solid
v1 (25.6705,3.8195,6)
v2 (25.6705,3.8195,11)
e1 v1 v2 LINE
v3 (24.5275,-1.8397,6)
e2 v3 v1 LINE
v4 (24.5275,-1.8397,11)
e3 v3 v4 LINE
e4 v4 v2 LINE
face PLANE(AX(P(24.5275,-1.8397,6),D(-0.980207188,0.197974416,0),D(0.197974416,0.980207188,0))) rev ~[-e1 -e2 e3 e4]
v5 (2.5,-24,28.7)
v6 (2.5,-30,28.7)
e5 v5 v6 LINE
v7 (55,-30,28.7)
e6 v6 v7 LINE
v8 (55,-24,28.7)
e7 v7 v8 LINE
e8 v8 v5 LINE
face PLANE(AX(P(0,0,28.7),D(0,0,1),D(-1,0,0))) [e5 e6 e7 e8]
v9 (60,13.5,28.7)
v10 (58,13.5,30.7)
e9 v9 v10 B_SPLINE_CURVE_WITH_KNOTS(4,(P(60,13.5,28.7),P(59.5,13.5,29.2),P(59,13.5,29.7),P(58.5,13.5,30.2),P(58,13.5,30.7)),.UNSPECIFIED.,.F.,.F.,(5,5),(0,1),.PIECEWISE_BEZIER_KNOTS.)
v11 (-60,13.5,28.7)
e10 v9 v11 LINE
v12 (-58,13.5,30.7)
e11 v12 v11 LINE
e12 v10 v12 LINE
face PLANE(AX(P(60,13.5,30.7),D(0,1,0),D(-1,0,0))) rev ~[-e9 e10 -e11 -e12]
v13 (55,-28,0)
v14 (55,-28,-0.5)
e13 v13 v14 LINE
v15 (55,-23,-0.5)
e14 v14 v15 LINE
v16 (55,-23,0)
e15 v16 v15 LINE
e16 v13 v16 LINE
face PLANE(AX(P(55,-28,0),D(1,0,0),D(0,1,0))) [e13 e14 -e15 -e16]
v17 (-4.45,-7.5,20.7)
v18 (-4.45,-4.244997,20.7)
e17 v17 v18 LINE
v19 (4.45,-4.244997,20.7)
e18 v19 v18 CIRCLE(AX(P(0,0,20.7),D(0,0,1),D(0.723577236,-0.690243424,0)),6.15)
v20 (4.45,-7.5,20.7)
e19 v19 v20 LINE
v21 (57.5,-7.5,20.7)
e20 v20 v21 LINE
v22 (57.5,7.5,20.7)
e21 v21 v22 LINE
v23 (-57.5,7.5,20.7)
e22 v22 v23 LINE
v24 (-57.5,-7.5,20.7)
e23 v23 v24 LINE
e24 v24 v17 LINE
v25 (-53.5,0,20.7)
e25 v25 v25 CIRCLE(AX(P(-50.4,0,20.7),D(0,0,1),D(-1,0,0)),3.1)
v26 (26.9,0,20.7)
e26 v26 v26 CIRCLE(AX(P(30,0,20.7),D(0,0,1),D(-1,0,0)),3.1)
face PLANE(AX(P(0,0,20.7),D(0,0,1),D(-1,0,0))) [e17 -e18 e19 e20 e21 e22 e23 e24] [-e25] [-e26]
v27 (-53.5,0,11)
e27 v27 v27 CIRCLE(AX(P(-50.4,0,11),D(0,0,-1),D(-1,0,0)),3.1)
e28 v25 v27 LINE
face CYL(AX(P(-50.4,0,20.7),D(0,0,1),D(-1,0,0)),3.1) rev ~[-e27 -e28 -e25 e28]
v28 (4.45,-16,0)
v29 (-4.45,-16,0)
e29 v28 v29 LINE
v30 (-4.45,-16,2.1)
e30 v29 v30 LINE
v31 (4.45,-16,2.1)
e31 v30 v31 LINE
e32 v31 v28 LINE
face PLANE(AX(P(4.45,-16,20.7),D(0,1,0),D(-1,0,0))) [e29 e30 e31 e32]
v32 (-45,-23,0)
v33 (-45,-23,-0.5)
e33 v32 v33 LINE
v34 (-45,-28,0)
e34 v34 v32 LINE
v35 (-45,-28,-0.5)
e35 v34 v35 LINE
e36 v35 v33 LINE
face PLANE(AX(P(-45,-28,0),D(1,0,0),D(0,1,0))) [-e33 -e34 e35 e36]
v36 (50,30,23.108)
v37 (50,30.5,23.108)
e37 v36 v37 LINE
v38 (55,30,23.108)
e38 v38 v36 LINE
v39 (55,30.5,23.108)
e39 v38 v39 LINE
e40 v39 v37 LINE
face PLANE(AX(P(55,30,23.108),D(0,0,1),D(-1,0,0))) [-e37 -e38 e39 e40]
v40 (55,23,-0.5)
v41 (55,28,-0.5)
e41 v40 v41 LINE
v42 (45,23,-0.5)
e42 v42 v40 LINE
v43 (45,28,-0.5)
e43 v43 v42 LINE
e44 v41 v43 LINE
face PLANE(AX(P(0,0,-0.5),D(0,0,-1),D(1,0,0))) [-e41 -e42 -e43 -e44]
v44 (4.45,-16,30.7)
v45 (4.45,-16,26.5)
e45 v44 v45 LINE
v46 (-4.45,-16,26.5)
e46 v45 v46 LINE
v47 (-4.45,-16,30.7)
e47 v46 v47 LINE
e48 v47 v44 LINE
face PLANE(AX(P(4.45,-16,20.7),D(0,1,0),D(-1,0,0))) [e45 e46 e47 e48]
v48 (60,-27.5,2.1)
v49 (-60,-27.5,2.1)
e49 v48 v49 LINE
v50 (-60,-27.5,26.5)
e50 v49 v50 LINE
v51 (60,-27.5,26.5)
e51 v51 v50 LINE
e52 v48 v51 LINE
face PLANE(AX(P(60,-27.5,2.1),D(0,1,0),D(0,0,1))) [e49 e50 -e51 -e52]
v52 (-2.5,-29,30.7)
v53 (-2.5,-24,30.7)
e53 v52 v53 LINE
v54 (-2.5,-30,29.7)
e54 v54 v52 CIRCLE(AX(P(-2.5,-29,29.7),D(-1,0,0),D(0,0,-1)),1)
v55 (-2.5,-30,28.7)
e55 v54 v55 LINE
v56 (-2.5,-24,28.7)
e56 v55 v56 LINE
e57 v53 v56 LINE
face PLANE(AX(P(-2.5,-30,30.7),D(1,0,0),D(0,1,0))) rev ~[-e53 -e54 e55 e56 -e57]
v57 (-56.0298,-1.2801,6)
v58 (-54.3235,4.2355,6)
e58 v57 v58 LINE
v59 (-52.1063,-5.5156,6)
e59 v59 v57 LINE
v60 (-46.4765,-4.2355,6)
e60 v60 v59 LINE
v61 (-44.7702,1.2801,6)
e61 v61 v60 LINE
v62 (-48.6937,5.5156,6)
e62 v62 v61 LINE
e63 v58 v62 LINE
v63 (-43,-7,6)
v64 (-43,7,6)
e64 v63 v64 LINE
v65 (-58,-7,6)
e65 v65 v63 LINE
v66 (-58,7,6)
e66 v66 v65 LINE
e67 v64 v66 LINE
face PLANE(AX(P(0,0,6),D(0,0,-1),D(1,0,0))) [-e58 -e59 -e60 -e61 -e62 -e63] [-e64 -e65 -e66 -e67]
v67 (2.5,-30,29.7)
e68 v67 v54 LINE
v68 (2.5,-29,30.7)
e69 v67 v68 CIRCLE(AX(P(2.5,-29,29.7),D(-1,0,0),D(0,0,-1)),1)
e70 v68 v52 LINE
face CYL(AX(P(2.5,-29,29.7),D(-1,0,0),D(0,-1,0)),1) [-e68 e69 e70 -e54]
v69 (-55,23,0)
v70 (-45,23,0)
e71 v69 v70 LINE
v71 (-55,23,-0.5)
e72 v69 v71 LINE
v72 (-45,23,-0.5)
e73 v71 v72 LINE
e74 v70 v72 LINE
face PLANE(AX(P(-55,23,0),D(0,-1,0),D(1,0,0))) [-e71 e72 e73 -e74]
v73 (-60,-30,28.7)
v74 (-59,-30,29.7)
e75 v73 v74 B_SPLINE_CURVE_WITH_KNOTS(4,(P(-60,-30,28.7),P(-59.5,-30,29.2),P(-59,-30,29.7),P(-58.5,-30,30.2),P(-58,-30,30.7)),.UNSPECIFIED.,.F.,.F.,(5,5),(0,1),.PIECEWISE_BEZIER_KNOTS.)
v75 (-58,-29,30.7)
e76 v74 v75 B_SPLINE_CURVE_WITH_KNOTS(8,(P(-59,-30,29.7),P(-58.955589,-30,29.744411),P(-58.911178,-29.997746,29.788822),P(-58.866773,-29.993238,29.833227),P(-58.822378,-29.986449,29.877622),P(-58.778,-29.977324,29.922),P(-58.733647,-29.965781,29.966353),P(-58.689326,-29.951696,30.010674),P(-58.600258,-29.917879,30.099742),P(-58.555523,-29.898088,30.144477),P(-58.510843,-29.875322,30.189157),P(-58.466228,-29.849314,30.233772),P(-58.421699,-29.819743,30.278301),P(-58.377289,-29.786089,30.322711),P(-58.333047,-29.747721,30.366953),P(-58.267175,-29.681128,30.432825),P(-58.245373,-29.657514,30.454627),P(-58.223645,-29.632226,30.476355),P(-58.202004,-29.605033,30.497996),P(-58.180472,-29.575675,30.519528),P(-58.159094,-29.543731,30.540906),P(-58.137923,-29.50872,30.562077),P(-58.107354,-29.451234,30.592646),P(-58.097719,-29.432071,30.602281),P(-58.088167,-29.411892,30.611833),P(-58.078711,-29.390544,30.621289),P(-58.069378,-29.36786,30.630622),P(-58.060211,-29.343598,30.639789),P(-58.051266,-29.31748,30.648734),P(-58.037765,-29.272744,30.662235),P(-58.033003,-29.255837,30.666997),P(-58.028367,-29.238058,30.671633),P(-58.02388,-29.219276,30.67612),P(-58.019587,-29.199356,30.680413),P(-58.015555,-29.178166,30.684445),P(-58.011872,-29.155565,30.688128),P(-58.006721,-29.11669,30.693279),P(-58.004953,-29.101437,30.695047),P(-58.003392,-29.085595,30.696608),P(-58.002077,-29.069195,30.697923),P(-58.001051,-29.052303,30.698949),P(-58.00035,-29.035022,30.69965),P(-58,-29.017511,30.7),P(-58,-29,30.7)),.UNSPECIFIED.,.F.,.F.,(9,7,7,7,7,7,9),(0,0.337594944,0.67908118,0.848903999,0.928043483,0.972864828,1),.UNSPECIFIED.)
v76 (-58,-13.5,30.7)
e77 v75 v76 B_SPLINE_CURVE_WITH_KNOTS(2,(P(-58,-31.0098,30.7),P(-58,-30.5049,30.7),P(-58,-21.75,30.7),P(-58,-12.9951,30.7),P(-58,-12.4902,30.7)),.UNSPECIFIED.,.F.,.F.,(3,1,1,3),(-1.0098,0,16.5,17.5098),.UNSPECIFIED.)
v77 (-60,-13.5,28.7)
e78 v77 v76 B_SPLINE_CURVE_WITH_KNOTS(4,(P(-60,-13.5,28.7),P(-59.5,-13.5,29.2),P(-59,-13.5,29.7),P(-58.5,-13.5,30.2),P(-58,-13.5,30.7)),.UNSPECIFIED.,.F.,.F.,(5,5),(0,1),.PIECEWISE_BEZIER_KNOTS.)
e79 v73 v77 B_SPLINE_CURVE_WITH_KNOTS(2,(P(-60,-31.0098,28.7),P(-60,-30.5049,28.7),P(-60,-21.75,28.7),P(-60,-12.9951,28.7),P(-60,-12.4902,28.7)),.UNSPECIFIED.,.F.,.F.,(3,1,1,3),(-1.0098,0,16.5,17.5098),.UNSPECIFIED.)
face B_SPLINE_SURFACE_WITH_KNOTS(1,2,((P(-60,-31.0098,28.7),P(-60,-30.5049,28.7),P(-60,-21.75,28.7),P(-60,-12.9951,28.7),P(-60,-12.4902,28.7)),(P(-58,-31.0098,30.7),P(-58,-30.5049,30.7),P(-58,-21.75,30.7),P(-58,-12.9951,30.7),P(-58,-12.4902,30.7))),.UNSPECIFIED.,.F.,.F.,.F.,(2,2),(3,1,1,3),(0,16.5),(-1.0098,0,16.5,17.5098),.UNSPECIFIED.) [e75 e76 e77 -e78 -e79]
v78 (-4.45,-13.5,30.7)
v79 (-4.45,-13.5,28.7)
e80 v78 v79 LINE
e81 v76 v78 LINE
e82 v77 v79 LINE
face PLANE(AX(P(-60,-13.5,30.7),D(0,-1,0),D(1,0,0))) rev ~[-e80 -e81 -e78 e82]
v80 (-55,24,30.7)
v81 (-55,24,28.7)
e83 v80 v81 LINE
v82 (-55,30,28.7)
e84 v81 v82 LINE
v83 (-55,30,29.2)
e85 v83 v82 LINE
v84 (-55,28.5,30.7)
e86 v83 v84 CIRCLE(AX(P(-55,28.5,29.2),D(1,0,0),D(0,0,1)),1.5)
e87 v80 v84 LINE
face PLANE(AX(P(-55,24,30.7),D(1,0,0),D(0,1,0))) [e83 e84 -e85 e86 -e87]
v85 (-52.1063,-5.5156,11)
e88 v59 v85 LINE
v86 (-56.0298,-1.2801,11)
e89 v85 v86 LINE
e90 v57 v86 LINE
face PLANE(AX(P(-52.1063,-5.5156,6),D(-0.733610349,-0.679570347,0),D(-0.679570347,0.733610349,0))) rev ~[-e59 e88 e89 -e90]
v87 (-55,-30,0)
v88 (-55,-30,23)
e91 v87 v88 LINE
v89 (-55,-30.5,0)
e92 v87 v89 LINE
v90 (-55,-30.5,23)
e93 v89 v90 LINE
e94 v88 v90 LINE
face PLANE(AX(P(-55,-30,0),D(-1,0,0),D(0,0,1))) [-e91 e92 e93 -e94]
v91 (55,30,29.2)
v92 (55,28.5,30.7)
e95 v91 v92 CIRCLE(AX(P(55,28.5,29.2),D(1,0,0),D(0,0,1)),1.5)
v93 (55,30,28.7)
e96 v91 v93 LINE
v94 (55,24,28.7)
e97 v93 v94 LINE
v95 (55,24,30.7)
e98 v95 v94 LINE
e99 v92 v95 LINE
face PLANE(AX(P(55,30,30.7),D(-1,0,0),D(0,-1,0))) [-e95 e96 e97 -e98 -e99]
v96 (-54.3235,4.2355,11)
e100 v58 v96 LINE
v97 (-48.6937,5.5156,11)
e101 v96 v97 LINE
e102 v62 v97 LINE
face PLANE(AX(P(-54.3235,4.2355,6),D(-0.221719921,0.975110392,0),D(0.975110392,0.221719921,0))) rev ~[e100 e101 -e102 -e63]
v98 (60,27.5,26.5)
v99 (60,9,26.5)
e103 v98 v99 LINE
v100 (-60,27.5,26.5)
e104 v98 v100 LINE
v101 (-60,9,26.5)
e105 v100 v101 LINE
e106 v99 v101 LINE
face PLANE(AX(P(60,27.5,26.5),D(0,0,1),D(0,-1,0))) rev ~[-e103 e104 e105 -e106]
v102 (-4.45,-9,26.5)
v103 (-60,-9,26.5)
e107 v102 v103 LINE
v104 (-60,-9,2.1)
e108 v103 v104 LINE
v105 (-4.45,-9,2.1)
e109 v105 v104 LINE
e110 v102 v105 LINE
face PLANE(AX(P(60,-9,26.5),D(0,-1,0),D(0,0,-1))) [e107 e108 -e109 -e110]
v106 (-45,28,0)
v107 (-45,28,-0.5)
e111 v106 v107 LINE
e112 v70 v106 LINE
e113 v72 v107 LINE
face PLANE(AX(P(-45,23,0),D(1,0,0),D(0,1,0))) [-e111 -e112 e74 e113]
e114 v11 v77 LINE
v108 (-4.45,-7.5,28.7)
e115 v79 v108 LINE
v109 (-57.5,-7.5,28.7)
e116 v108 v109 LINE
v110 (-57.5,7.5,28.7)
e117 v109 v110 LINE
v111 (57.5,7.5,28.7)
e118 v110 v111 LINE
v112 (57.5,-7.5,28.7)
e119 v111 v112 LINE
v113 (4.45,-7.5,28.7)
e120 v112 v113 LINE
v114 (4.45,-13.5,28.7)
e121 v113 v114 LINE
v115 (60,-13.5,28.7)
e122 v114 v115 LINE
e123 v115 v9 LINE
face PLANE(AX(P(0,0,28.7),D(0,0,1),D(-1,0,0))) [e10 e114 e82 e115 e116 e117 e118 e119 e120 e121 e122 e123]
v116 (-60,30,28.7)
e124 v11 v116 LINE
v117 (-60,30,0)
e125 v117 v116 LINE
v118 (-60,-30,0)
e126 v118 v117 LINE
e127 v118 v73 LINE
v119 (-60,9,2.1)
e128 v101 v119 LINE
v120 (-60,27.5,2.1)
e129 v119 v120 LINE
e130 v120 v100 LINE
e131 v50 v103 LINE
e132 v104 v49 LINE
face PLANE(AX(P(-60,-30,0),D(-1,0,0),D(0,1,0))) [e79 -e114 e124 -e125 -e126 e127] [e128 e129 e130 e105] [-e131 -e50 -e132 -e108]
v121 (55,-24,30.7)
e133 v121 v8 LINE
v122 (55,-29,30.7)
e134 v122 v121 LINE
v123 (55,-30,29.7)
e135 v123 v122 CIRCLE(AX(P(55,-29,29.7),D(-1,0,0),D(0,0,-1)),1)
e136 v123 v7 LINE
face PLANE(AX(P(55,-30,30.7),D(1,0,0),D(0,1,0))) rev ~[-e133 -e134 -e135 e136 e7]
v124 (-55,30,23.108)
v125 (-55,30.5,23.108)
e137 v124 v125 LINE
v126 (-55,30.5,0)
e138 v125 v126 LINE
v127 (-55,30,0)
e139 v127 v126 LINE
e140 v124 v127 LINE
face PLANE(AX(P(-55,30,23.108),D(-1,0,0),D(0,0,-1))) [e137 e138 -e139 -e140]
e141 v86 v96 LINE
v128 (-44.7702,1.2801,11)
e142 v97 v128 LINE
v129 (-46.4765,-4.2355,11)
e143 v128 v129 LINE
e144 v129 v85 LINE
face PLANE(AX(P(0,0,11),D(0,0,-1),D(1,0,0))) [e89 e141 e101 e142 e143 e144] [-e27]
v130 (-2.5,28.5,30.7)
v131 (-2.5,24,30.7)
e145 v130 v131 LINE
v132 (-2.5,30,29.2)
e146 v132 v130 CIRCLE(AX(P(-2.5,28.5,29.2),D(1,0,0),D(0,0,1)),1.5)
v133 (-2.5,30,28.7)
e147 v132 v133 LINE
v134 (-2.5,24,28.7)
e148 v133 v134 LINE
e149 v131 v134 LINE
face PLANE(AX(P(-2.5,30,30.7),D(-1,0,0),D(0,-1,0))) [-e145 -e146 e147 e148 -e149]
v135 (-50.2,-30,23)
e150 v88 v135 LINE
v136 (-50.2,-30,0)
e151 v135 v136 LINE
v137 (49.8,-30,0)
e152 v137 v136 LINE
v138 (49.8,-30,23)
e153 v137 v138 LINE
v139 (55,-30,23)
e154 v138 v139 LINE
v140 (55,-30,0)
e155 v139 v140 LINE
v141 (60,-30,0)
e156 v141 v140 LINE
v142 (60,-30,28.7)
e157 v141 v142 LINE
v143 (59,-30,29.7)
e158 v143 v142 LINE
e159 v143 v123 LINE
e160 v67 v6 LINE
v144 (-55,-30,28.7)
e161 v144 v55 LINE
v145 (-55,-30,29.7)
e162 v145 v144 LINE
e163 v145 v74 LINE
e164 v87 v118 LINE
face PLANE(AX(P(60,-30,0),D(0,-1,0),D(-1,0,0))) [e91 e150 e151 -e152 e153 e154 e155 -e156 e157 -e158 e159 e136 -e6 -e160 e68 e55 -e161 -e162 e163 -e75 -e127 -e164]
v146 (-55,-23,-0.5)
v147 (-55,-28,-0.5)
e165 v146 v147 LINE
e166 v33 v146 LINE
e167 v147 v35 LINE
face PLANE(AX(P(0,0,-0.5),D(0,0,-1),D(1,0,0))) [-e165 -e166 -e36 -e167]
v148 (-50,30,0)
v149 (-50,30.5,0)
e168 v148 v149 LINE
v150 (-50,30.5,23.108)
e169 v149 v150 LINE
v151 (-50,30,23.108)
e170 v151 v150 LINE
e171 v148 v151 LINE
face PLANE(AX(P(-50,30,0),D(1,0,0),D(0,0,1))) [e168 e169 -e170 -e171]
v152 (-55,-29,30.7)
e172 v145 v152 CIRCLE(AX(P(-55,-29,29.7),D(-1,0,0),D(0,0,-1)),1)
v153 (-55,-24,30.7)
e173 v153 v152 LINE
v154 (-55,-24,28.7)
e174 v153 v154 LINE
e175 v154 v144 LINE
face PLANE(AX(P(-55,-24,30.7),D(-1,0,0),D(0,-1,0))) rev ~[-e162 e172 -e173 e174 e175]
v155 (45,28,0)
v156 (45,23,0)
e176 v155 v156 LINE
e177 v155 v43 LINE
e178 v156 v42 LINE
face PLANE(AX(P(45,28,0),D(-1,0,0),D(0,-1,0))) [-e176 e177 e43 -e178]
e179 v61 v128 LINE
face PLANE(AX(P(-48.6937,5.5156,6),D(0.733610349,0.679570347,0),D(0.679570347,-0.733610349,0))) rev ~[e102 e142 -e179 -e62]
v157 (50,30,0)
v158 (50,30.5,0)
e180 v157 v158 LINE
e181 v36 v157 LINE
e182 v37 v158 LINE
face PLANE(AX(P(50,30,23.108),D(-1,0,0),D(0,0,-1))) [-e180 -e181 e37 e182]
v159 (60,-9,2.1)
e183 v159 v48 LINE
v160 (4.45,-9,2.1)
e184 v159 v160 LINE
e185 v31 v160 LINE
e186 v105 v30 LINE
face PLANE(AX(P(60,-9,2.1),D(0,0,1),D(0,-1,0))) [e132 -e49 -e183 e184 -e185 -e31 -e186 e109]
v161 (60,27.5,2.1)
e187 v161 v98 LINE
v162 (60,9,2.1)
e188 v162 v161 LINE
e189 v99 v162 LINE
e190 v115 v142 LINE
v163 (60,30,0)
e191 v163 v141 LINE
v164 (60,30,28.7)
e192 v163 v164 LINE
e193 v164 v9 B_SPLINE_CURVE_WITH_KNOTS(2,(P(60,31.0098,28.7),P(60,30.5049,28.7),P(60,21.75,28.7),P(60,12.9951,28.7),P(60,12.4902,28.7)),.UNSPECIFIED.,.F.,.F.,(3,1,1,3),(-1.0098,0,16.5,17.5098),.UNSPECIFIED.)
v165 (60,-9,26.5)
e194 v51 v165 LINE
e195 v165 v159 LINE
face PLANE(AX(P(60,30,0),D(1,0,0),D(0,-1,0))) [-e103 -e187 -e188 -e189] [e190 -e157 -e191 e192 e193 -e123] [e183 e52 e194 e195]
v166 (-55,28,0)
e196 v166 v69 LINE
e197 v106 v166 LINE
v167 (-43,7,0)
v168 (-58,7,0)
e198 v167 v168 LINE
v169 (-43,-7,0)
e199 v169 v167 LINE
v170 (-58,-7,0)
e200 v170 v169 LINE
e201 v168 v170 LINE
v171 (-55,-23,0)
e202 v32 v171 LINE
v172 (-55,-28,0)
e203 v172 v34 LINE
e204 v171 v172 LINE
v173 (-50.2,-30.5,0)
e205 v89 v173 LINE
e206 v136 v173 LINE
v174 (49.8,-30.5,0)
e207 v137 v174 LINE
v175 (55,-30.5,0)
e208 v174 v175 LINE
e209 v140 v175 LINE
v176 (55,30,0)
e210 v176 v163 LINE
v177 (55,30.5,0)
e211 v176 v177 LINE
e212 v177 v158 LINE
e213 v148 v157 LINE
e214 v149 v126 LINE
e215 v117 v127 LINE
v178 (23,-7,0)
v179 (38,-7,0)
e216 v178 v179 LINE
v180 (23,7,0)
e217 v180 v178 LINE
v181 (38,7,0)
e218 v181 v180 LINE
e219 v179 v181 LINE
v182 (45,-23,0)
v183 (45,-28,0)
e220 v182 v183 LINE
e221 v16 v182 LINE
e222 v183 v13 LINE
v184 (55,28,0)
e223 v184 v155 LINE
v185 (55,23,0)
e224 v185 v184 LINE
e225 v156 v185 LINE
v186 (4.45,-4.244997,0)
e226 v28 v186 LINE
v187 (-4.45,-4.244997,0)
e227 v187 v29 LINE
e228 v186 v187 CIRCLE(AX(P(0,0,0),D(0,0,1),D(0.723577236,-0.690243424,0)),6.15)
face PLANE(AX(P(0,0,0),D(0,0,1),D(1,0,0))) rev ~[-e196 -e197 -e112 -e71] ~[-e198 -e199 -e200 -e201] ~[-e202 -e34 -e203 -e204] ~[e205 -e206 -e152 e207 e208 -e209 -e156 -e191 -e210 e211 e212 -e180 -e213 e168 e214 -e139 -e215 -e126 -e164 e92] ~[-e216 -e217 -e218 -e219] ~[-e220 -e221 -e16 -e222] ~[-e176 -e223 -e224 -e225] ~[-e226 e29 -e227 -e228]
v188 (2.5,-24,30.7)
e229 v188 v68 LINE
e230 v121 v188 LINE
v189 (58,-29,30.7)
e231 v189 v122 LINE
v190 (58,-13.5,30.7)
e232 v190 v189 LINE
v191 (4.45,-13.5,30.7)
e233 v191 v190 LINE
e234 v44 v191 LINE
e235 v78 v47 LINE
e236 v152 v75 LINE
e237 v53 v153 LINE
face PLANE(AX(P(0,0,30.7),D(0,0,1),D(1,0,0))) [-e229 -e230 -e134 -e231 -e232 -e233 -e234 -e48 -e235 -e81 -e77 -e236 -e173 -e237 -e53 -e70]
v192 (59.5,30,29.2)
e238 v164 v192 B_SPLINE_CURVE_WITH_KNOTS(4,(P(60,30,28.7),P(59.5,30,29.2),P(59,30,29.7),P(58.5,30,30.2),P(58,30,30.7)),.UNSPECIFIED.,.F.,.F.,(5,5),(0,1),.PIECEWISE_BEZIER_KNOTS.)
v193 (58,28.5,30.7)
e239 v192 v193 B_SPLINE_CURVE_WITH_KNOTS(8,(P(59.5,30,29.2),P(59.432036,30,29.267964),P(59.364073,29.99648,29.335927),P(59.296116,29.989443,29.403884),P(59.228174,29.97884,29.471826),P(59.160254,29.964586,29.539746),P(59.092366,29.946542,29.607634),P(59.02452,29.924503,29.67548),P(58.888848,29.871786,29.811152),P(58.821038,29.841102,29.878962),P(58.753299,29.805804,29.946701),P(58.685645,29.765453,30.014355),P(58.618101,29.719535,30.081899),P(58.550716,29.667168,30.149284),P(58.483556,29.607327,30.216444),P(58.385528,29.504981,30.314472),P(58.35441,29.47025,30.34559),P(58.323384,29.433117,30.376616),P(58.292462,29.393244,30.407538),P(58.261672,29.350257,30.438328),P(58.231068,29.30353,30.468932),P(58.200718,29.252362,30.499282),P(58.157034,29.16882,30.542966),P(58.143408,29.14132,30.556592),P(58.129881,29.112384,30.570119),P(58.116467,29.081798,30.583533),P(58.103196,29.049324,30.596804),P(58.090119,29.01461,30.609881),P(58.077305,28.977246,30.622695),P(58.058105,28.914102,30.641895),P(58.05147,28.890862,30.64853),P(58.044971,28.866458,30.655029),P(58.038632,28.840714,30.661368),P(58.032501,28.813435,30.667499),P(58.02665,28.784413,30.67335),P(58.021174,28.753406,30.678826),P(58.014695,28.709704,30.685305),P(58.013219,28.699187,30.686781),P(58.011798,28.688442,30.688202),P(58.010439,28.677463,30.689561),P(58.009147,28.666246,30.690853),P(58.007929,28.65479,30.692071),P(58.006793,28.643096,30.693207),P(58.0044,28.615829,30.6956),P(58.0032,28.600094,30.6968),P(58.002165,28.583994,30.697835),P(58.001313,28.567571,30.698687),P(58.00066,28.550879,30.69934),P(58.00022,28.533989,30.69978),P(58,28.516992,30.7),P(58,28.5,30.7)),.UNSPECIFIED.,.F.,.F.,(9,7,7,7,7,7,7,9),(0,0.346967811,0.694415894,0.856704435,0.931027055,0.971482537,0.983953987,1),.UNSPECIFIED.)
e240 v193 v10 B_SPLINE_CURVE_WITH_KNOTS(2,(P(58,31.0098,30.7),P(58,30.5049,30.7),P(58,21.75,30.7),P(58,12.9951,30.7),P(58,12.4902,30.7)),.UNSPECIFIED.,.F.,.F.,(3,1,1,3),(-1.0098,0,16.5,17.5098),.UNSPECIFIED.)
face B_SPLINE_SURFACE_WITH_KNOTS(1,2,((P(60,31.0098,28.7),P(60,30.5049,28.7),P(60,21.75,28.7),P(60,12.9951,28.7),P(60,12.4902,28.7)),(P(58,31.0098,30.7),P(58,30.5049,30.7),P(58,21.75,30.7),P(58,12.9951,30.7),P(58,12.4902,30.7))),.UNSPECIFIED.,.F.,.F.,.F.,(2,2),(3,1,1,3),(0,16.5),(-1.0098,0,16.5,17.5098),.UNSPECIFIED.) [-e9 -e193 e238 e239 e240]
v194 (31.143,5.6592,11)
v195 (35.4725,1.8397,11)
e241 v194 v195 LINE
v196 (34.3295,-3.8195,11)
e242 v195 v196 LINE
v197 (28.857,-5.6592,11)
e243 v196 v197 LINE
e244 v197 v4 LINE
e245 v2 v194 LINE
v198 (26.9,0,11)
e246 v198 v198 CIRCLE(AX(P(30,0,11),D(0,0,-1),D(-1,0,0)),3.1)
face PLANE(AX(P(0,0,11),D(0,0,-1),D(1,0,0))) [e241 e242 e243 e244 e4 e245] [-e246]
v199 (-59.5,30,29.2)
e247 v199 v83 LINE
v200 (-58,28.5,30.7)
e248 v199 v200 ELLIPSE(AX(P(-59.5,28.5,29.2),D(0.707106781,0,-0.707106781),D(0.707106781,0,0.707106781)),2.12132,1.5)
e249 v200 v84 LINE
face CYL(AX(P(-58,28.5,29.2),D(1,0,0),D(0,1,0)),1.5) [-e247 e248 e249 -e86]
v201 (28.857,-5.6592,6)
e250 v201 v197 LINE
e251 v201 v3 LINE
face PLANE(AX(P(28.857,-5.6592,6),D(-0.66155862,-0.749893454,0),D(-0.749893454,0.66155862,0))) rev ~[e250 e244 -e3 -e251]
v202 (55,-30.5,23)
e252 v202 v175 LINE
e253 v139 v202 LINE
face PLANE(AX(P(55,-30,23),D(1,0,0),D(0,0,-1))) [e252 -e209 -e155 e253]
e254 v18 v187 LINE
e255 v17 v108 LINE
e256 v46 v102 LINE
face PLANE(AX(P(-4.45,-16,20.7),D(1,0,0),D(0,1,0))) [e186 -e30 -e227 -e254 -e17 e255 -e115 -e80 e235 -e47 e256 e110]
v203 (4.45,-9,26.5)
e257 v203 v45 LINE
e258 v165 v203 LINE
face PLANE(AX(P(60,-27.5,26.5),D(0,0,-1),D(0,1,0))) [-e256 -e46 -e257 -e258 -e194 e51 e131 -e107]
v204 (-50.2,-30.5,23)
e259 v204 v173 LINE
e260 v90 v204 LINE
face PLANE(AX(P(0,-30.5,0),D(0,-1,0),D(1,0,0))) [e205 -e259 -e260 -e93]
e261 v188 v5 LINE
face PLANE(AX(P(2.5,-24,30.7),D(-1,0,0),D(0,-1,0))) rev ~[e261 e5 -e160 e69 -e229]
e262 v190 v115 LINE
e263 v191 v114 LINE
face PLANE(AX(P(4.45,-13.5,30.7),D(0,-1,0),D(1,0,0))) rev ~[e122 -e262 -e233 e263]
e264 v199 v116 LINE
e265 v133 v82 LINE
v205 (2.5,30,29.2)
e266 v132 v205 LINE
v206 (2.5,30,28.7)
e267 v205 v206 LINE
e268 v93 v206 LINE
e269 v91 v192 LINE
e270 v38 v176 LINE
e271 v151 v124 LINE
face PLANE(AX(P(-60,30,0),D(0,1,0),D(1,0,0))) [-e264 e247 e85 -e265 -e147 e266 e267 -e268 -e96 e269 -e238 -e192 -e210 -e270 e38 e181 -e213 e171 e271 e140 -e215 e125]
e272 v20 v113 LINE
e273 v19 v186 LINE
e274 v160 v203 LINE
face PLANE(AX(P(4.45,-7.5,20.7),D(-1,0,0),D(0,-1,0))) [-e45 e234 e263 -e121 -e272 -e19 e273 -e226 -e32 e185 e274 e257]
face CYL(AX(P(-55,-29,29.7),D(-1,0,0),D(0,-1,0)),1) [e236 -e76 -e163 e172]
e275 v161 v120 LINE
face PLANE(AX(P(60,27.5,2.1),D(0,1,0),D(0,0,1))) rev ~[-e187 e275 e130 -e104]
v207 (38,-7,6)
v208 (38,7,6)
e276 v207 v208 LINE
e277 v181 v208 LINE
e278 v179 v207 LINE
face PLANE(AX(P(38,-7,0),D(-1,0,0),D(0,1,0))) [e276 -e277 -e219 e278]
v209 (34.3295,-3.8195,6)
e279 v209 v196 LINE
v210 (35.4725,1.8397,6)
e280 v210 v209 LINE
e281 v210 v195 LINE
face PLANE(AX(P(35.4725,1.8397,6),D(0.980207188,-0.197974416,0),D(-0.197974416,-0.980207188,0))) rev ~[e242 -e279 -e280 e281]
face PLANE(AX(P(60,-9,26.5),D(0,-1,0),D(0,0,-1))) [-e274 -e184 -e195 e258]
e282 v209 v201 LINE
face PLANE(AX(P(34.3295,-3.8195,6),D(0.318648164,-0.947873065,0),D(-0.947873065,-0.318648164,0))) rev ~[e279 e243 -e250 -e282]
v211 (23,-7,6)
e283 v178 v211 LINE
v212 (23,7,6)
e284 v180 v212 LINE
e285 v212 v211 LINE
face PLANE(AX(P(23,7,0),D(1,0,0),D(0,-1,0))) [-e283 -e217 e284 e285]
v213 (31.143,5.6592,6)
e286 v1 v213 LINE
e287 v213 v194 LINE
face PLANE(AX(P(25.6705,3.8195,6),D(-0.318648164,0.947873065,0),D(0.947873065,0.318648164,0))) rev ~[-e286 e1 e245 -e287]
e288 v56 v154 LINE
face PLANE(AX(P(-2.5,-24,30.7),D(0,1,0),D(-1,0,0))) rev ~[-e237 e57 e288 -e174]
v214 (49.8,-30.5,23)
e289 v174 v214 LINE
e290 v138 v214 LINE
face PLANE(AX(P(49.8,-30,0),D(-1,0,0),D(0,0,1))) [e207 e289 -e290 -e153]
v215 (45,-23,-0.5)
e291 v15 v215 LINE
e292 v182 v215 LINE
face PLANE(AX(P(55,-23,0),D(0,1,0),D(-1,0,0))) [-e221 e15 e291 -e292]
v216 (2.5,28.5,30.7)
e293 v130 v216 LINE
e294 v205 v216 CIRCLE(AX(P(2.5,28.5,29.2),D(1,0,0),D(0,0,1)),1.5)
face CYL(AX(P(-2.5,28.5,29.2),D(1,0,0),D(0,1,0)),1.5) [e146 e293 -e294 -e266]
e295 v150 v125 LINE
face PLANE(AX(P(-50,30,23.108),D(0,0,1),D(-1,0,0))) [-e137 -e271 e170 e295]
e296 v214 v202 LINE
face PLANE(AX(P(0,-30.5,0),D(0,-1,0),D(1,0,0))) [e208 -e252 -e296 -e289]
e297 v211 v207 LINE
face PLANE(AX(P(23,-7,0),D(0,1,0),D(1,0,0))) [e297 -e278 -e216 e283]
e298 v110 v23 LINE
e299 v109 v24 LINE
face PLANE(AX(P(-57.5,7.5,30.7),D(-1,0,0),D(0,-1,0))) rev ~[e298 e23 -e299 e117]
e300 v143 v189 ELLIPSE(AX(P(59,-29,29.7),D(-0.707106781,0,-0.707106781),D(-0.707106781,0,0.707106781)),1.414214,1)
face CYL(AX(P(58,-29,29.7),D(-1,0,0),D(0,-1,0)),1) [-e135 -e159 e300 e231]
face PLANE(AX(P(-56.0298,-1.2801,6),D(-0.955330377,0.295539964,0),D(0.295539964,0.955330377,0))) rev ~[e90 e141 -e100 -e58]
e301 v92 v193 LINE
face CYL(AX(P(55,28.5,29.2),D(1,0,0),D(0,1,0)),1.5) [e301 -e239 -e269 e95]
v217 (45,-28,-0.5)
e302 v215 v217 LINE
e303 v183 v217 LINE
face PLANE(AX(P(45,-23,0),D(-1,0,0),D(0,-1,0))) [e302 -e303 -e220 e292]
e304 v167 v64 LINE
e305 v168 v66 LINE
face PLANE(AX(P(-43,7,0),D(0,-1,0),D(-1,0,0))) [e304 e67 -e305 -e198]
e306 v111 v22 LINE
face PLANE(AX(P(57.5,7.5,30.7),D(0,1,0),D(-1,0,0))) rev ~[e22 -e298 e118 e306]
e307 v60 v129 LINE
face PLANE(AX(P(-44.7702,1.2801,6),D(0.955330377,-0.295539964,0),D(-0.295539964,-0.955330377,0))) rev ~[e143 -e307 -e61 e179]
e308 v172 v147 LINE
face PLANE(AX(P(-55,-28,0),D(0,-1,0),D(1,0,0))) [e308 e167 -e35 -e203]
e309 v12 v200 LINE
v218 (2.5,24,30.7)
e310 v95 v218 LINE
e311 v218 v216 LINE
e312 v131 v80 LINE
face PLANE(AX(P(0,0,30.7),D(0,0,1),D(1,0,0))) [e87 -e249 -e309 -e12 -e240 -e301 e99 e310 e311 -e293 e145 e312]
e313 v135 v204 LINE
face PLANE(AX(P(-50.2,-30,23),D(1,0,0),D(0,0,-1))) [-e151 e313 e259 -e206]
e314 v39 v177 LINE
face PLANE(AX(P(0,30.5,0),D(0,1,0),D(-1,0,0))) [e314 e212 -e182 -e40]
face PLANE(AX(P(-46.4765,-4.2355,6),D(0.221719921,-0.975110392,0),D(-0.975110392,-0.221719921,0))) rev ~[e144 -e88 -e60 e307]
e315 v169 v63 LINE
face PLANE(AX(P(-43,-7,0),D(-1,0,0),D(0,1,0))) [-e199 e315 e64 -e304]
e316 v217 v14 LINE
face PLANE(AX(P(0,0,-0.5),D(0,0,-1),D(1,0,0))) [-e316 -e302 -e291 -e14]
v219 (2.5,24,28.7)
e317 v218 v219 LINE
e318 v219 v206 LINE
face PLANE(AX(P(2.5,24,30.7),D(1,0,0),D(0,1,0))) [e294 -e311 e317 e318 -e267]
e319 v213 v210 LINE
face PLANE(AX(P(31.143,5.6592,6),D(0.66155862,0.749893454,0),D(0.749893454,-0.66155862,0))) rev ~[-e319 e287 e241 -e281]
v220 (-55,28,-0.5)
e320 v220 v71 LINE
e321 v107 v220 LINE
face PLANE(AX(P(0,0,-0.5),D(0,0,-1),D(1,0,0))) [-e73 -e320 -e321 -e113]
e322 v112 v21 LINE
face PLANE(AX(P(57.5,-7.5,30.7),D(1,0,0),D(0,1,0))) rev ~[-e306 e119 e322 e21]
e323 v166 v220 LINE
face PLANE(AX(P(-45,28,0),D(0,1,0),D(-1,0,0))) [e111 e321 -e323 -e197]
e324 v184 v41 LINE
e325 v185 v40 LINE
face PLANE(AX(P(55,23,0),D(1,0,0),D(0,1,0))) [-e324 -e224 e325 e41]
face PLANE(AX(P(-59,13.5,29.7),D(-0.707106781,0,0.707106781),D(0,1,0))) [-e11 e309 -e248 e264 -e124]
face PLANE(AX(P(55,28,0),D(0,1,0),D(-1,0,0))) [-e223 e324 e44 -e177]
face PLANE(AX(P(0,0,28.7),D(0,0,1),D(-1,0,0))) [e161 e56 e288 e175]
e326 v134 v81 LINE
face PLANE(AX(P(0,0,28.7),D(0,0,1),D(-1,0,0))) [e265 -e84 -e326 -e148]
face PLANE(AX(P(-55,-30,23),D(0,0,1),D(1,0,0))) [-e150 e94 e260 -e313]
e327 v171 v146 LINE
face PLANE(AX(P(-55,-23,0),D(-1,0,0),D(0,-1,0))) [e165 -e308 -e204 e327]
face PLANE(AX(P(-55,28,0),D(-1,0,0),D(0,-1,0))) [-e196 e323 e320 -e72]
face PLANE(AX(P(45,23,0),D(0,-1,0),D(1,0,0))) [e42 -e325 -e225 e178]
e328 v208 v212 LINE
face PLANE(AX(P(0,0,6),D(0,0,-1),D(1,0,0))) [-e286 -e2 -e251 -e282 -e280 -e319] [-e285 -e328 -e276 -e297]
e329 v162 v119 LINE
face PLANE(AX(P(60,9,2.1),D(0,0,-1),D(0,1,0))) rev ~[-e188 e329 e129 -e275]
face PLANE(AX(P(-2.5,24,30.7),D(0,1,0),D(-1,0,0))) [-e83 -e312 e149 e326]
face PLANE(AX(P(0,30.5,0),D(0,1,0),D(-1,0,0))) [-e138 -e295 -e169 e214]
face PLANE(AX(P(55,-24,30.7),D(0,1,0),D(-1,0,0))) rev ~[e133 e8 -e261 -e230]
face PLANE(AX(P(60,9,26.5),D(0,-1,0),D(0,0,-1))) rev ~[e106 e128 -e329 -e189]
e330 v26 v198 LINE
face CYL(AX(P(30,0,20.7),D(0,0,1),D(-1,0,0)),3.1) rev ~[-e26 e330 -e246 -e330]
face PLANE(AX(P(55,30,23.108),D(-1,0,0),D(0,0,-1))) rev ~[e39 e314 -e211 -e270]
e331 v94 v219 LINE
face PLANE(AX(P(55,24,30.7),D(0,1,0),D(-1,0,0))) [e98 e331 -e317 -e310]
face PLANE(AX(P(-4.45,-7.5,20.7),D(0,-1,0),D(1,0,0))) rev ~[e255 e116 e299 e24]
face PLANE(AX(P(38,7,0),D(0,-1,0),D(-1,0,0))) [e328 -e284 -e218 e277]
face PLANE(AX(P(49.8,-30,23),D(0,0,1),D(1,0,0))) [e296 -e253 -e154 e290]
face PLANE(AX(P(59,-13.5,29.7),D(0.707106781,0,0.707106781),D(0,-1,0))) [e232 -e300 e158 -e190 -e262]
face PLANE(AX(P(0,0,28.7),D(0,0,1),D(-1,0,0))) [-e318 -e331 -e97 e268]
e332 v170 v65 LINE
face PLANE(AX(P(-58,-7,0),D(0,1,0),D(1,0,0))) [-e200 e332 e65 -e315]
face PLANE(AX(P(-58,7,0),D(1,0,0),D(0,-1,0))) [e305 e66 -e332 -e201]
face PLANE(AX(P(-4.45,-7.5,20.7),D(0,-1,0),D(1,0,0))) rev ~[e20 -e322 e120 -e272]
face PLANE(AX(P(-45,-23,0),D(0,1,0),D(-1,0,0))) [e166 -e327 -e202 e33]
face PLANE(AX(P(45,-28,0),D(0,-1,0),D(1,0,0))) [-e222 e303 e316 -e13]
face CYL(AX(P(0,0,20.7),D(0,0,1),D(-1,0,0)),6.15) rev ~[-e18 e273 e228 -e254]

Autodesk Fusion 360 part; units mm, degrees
sketch "Esquisse3" plane through (0, 0, 0) normal (0, 0, 1) x (1, 0, 0)
  line L0 (60, -30) -> (-60, -30)
  line L1 (-60, -30) -> (-60, 30)
  line L2 (-60, 30) -> (60, 30)
  line L3 (60, 30) -> (60, -30)
  line L4 (60, -30) -> (-60, 30) construction
  line L5 (-60, -30) -> (60, 30) construction
  dimension "d3" = 120
  dimension "d4" = 60
extrude "Extrusion1" add sketch "Esquisse3" along normal blind 30.7
sketch "Esquisse4" plane through (0, 0, 30.7) normal (0, 0, 1) x (-1, 0, 0)
  line L0 (-60, -30) -> (60, -30)
  line L1 (60, -30) -> (60, 30)
  line L2 (60, 30) -> (-60, 30)
  line L3 (-60, 30) -> (-60, -30)
  line L4 (57.5, 7.5) -> (-57.5, 7.5)
  line L5 (-57.5, 7.5) -> (-57.5, -7.5)
  line L6 (-57.5, -7.5) -> (57.5, -7.5)
  line L7 (57.5, -7.5) -> (57.5, 7.5)
  line L8 (57.5, 7.5) -> (-57.5, -7.5) construction
  line L9 (-57.5, 7.5) -> (57.5, -7.5) construction
  dimension "d7" = 115
  dimension "d8" = 15
extrude "Extrusion2" cut sketch "Esquisse4" against normal blind 10 contours L4 L5 L6 L7
sketch "Esquisse5" plane through (0, 0, 20.7) normal (0, 0, 1) x (-1, 0, 0)
  line L0 (57.5, -7.5) -> (57.5, 7.5)
  line L1 (57.5, 7.5) -> (-57.5, 7.5)
  line L2 (-57.5, 7.5) -> (-57.5, -7.5)
  line L3 (-57.5, -7.5) -> (57.5, -7.5)
  circle A0 centre (0, 0) radius 6.15
  circle A1 centre (50.4, 0) radius 3.1
  spline S0 degree 5 poles (60, -40) (60, -36.8) (60, -30.4) (60, -20.8) (60, -8) (60, 8) (60, 20.8) (60, 30.4) (60, 36.8) (60, 40) knots 0 0 0 0 0 0 0.2 0.4 0.6 0.8 1 1 1 1 1 1 construction
  line L4 (60, 30) -> (60, -30) construction
  circle A2 centre (-30, 0) radius 3.1
  spline S1 degree 5 poles (-60, -40) (-60, -36.8) (-60, -30.4) (-60, -20.8) (-60, -8) (-60, 8) (-60, 20.8) (-60, 30.4) (-60, 36.8) (-60, 40) knots 0 0 0 0 0 0 0.2 0.4 0.6 0.8 1 1 1 1 1 1 construction
  line L5 (-60, 31.84) -> (-60, 48.16)
  line L6 (0, -50) -> (0, 50) construction
  line L7 (-4.45, 16) -> (4.45, 16)
  line L8 (4.45, 16) -> (4.45, -3.7)
  line L9 (4.45, -3.7) -> (-4.45, -3.7)
  line L10 (-4.45, -3.7) -> (-4.45, 16)
  line L11 (-4.45, 16) -> (4.45, -3.7) construction
  line L12 (4.45, 16) -> (-4.45, -3.7) construction
  point P0 (0, 6.15)
  dimension "d11" = 12.3
  dimension "d12" = 6.2
  dimension "d13" = 9.6
  dimension "d14" = 6.2
  dimension "d15" = 30
  dimension "d16" = 8.9
  dimension "d17" = 16
extrude "Extrusion3" cut sketch "Esquisse5" against normal blind 30.574 contours A1
extrude "Extrusion4" cut sketch "Esquisse5" against normal blind 30.574 contours A0 L8 L9 L10 picked at (-0.1506, -0.4222)
extrude "Extrusion5" cut sketch "Esquisse5" against normal blind 30.574 contours A0 L8 L9 L10 picked at (-0.0399, -4.5163)
extrude "Extrusion6" cut sketch "Esquisse5" against normal blind 30.574 contours L1 A0 L8 L10
extrude "Extrusion7" cut sketch "Esquisse5" against normal blind 30.574 contours L1 L7 L8 L10
extrude "Extrusion8" cut sketch "Esquisse5" along normal blind 22.36 contours L1 L7 L8 L10
extrude "Extrusion9" cut sketch "Esquisse5" against normal blind 30.574 contours A2
sketch "Esquisse6" plane through (0, 0, 30.7) normal (0, 0, 1) x (-1, 0, 0)
  line L0 (-60, -30) -> (60, -30)
  line L1 (60, -30) -> (60, 30)
  line L2 (60, 30) -> (-60, 30)
  line L3 (-60, 30) -> (-60, -30)
  line L4 (-4.45, 7.5) -> (-4.45, 16)
  line L5 (-4.45, 16) -> (4.45, 16)
  line L6 (4.45, 16) -> (4.45, 7.5)
  line L7 (4.45, 7.5) -> (57.5, 7.5)
  line L8 (57.5, 7.5) -> (57.5, -7.5)
  line L9 (57.5, -7.5) -> (-57.5, -7.5)
  line L10 (-57.5, -7.5) -> (-57.5, 7.5)
  line L11 (-57.5, 7.5) -> (-4.45, 7.5)
  line L12 (-60, -13.5) -> (60, -13.5)
  line L13 (60, -13.5) -> (60, 13.5)
  line L14 (60, 13.5) -> (-60, 13.5)
  line L15 (-60, 13.5) -> (-60, -13.5)
  line L16 (-60, -13.5) -> (60, 13.5) construction
  line L17 (60, -13.5) -> (-60, 13.5) construction
  line L18 (0, -50) -> (0, 50) construction
  line L19 (2.5, -50) -> (2.5, 50) construction
  line L20 (-2.5, -50) -> (-2.5, 50) construction
  line L21 (60, -50) -> (60, 50) construction
  line L22 (-60, -50) -> (-60, 50) construction
  line L23 (-60, -50) -> (-60, 50) construction
  line L24 (-55, -50) -> (-55, 50) construction
  line L25 (60, -50) -> (60, 50) construction
  line L26 (55, -50) -> (55, 50) construction
  line L27 (55, -30) -> (2.5, -30)
  line L28 (2.5, -30) -> (2.5, -24)
  line L29 (2.5, -24) -> (55, -24)
  line L30 (55, -24) -> (55, -30)
  line L31 (-2.5, -30) -> (-55, -30)
  line L32 (-55, -30) -> (-55, -24)
  line L33 (-55, -24) -> (-2.5, -24)
  line L34 (-2.5, -24) -> (-2.5, -30)
  line L35 (55, 30) -> (2.5, 30)
  line L36 (2.5, 30) -> (2.5, 24)
  line L37 (2.5, 24) -> (55, 24)
  line L38 (55, 24) -> (55, 30)
  line L39 (-2.5, 30) -> (-55, 30)
  line L40 (-55, 30) -> (-55, 24)
  line L41 (-55, 24) -> (-2.5, 24)
  line L42 (-2.5, 24) -> (-2.5, 30)
  dimension "d32" = 120
  dimension "d33" = 27
  dimension "d34" = 6
  dimension "d35" = 6
  dimension "d36" = 6
  dimension "d37" = 6
extrude "Extrusion10" cut sketch "Esquisse6" against normal blind 2 contours L0 L27 L28 L29 L30
extrude "Extrusion12" cut sketch "Esquisse6" against normal blind 2 contours L0 L31 L32 L33 L34
extrude "Extrusion13" cut sketch "Esquisse6" against normal blind 2 contours L2 L39 L40 L41 L42
extrude "Extrusion14" cut sketch "Esquisse6" against normal blind 2 contours L2 L35 L36 L37 L38
extrude "Extrusion15" cut sketch "Esquisse6" against normal blind 2 contours L1 L3 L4 L6 L7 L8 L9 L10 L11 L12 L13 L14 L15
sketch "Esquisse8" plane through (60, 0, 0) normal (1, 0, 0) x (0, 1, 0)
  line L0 (-13.5, 28.7) -> (-13.5, 30.7)
  line L1 (-13.5, 30.7) -> (-30, 30.7)
  line L2 (-30, 30.7) -> (-30, 0)
  line L3 (-30, 0) -> (30, 0)
  line L4 (30, 0) -> (30, 30.7)
  line L5 (30, 30.7) -> (13.5, 30.7)
  line L6 (13.5, 30.7) -> (13.5, 28.7)
  line L7 (13.5, 28.7) -> (-13.5, 28.7)
  line L8 (-40, 26.5) -> (40, 26.5) construction
  line L9 (-40.0872, 2.1) -> (40, 2.1) construction
  line L10 (27.5, 40.0232) -> (27.5, -9.9768) construction
  line L11 (-27.5, -10) -> (-27.5, 40) construction
  line L12 (9, 40.0232) -> (9, -10) construction
  line L13 (-9, 40) -> (-9, -10) construction
  line L14 (-27.5, 26.5) -> (-9, 26.5)
  line L15 (-9, 26.5) -> (-9, 2.1)
  line L16 (-9, 2.1) -> (-27.5, 2.1)
  line L17 (-27.5, 2.1) -> (-27.5, 26.5)
  line L18 (9, 2.1) -> (27.5, 2.1)
  line L19 (27.5, 2.1) -> (27.5, 26.5)
  line L20 (27.5, 26.5) -> (9, 26.5)
  line L21 (9, 26.5) -> (9, 2.1)
  dimension "d50" = 4.2
  dimension "d51" = 2.1
  dimension "d52" = 2.5
  dimension "d53" = 2.5
  dimension "d54" = 18.5
  dimension "d55" = 18.5
extrude "Extrusion16" cut sketch "Esquisse8" against normal blind 120 contours L14 L15 L16 L17
extrude "Extrusion17" cut sketch "Esquisse8" against normal blind 120 contours L18 L19 L20 L21
sketch "Esquisse9" plane through (0, -30, 0) normal (0, -1, 0) x (1, 0, 0)
  line L0 (-55, 28.7) -> (-55, 30.7)
  line L1 (-55, 30.7) -> (-60, 30.7)
  line L2 (-60, 30.7) -> (-60, 0)
  line L3 (-60, 0) -> (60, 0)
  line L4 (60, 0) -> (60, 30.7)
  line L5 (60, 30.7) -> (55, 30.7)
  line L6 (55, 30.7) -> (55, 28.7)
  line L7 (55, 28.7) -> (2.5, 28.7)
  line L8 (2.5, 28.7) -> (2.5, 30.7)
  line L9 (2.5, 30.7) -> (-2.5, 30.7)
  line L10 (-2.5, 30.7) -> (-2.5, 28.7)
  line L11 (-2.5, 28.7) -> (-55, 28.7)
  line L12 (-55, 50) -> (-55, -20) construction
  line L13 (-50.2, 50) -> (-50.2, -20) construction
  line L14 (-75, 0) -> (75, 0) construction
  line L15 (-75, 23) -> (75, 23) construction
  line L16 (-50.2, 50) -> (-50.2, -20) construction
  line L17 (-55, 50) -> (-55, -20) construction
  line L18 (55, 50) -> (55, -20) construction
  line L19 (49.8, 50) -> (49.8, -20) construction
  line L20 (-55, 23) -> (-50.2, 23)
  line L21 (-50.2, 23) -> (-50.2, 0)
  line L22 (-50.2, 0) -> (-55, 0)
  line L23 (-55, 0) -> (-55, 23)
  line L24 (55, 0) -> (49.8, 0)
  line L25 (49.8, 0) -> (49.8, 23)
  line L26 (49.8, 23) -> (55, 23)
  line L27 (55, 23) -> (55, 0)
  dimension "d60" = 4.8
  dimension "d61" = 23
  dimension "d62" = 4.8
extrude "Extrusion18" add sketch "Esquisse9" along normal blind 0.5 contours L3 L24 L25 L26 L27
extrude "Extrusion19" add sketch "Esquisse9" along normal blind 0.5 contours L3 L20 L21 L22 L23
sketch "Esquisse10" plane through (0, 30, 0) normal (0, 1, 0) x (-1, 0, 0)
  line L0 (-2.5, 30.7) -> (-2.5, 28.7)
  line L1 (-2.5, 28.7) -> (-55, 28.7)
  line L2 (-55, 28.7) -> (-55, 30.7)
  line L3 (-55, 30.7) -> (-60, 30.7)
  line L4 (-60, 30.7) -> (-60, 0)
  line L5 (-60, 0) -> (60, 0)
  line L6 (60, 0) -> (60, 30.7)
  line L7 (60, 30.7) -> (55, 30.7)
  line L8 (55, 30.7) -> (55, 28.7)
  line L9 (55, 28.7) -> (2.5, 28.7)
  line L10 (2.5, 28.7) -> (2.5, 30.7)
  line L11 (2.5, 30.7) -> (-2.5, 30.7)
  line L12 (-75, 0) -> (75, 0) construction
  line L13 (-55, 35) -> (-55, -5)
  line L14 (-50, 50) -> (-50, -20) construction
  line L15 (-55, 50) -> (-55, -20) construction
  line L16 (55, 50) -> (55, -20) construction
  line L17 (50, 50) -> (50, -20) construction
  line L18 (-74.8741, 23.108) -> (75, 23.108) construction
  line L19 (-55, 23.108) -> (-50, 23.108)
  line L20 (-50, 23.108) -> (-50, 0)
  line L21 (-50, 0) -> (-55, 0)
  line L22 (-55, 0) -> (-55, 23.108)
  line L23 (50, 23.108) -> (55, 23.108)
  line L24 (55, 23.108) -> (55, 0)
  line L25 (55, 0) -> (50, 0)
  line L26 (50, 0) -> (50, 23.108)
extrude "Extrusion20" add sketch "Esquisse10" along normal blind 0.5 contours L5 L23 L24 L25 L26
extrude "Extrusion21" add sketch "Esquisse10" along normal blind 0.5 contours L5 L13 L19 L20 L21 L22
sketch "Esquisse11" plane through (0, 0, 0) normal (0, 0, -1) x (1, 0, 0)
  circle A0 centre (30, 0) radius 3.1
  line L0 (4.45, 16) -> (4.45, 4.245)
  arc A1 (-4.45, 4.245) -> (4.45, 4.245) centre (0, 0) ccw
  line L1 (-4.45, 4.245) -> (-4.45, 16)
  line L2 (-4.45, 16) -> (4.45, 16)
  line L3 (-60, -30) -> (-55, -30)
  line L4 (-55, -30) -> (-55, -30.5)
  line L5 (-55, -30.5) -> (-50, -30.5)
  line L6 (-50, -30.5) -> (-50, -30)
  line L7 (-50, -30) -> (50, -30)
  line L8 (50, -30) -> (50, -30.5)
  line L9 (50, -30.5) -> (55, -30.5)
  line L10 (55, -30.5) -> (55, -30)
  line L11 (55, -30) -> (60, -30)
  line L12 (60, -30) -> (60, 30)
  line L13 (60, 30) -> (55, 30)
  line L14 (55, 30) -> (55, 30.5)
  line L15 (55, 30.5) -> (49.8, 30.5)
  line L16 (49.8, 30.5) -> (49.8, 30)
  line L17 (49.8, 30) -> (-50.2, 30)
  line L18 (-50.2, 30) -> (-50.2, 30.5)
  line L19 (-50.2, 30.5) -> (-55, 30.5)
  line L20 (-55, 30.5) -> (-55, 30)
  line L21 (-55, 30) -> (-60, 30)
  line L22 (-60, 30) -> (-60, -30)
  circle A2 centre (-50.4, 0) radius 3.1
  line L23 (-75, 28) -> (70, 28) construction
  line L24 (-75, -28) -> (70, -28) construction
  line L25 (75, -30) -> (-75, -30)
  line L26 (-55, 40) -> (-55, -40) construction
  line L27 (55, 40) -> (55, -40) construction
  line L28 (-75, 23) -> (70, 23) construction
  line L29 (-75, 23) -> (70, 23) construction
  line L30 (-75, -23) -> (70, -23) construction
  line L31 (-45, 40) -> (-45, -45) construction
  line L32 (45, 40) -> (45, -45) construction
  line L33 (-55, 28) -> (-45, 28)
  line L34 (-45, 28) -> (-45, 23)
  line L35 (-45, 23) -> (-55, 23)
  line L36 (-55, 23) -> (-55, 28)
  line L37 (-55, -23) -> (-45, -23)
  line L38 (-45, -23) -> (-45, -28)
  line L39 (-45, -28) -> (-55, -28)
  line L40 (-55, -28) -> (-55, -23)
  line L41 (45, -23) -> (55, -23)
  line L42 (55, -23) -> (55, -28)
  line L43 (55, -28) -> (45, -28)
  line L44 (45, -28) -> (45, -23)
  line L45 (45, 28) -> (55, 28)
  line L46 (55, 28) -> (55, 23)
  line L47 (55, 23) -> (45, 23)
  line L48 (45, 23) -> (45, 28)
  dimension "d73" = 2
  dimension "d74" = 2
  dimension "d75" = 5
  dimension "d76" = 5
  dimension "d78" = 5
  dimension "d79" = 5
  dimension "d80" = 10
  dimension "d81" = 10
extrude "Extrusion23" add sketch "Esquisse11" along normal blind 0.5 contours L33 L34 L35 L36 | L37 L38 L39 L40 | L41 L42 L43 L44 | L45 L46 L47 L48
sketch "Esquisse12" plane through (0, 0, 0) normal (0, 0, -1) x (1, 0, 0)
  line L0 (45, 23) -> (45, 28)
  line L1 (45, 28) -> (55, 28)
  line L2 (55, 28) -> (55, 23)
  line L3 (55, 23) -> (45, 23)
  line L4 (-55, 23) -> (-55, 28)
  line L5 (-55, 28) -> (-45, 28)
  line L6 (-45, 28) -> (-45, 23)
  line L7 (-45, 23) -> (-55, 23)
  line L8 (45, -28) -> (45, -23)
  line L9 (45, -23) -> (55, -23)
  line L10 (55, -23) -> (55, -28)
  line L11 (55, -28) -> (45, -28)
  line L12 (-55, -28) -> (-55, -23)
  line L13 (-55, -23) -> (-45, -23)
  line L14 (-45, -23) -> (-45, -28)
  line L15 (-45, -28) -> (-55, -28)
  circle A0 centre (30, 0) radius 3.1
  line L16 (4.45, 16) -> (4.45, 4.245)
  arc A1 (-4.45, 4.245) -> (4.45, 4.245) centre (0, 0) ccw
  line L17 (-4.45, 4.245) -> (-4.45, 16)
  line L18 (-4.45, 16) -> (4.45, 16)
  line L19 (-60, -30) -> (-55, -30)
  line L20 (-55, -30) -> (-55, -30.5)
  line L21 (-55, -30.5) -> (-50, -30.5)
  line L22 (-50, -30.5) -> (-50, -30)
  line L23 (-50, -30) -> (50, -30)
  line L24 (50, -30) -> (50, -30.5)
  line L25 (50, -30.5) -> (55, -30.5)
  line L26 (55, -30.5) -> (55, -30)
  line L27 (55, -30) -> (60, -30)
  line L28 (60, -30) -> (60, 30)
  line L29 (60, 30) -> (55, 30)
  line L30 (55, 30) -> (55, 30.5)
  line L31 (55, 30.5) -> (49.8, 30.5)
  line L32 (49.8, 30.5) -> (49.8, 30)
  line L33 (49.8, 30) -> (-50.2, 30)
  line L34 (-50.2, 30) -> (-50.2, 30.5)
  line L35 (-50.2, 30.5) -> (-55, 30.5)
  line L36 (-55, 30.5) -> (-55, 30)
  line L37 (-55, 30) -> (-60, 30)
  line L38 (-60, 30) -> (-60, -30)
  circle A2 centre (-50.4, 0) radius 3.1
  line L39 (-58, 35) -> (-58, -35) construction
  line L40 (-43, 35) -> (-43, -35) construction
  line L41 (-70, -7) -> (70, -7) construction
  line L42 (-70, 7) -> (70, 7) construction
  line L43 (23, 35) -> (23, -35) construction
  line L44 (38, 35) -> (38, -35) construction
  line L45 (-58, 7) -> (-43, 7)
  line L46 (-43, 7) -> (-43, -7)
  line L47 (-43, -7) -> (-58, -7)
  line L48 (-58, -7) -> (-58, 7)
  line L49 (23, 7) -> (38, 7)
  line L50 (38, 7) -> (38, -7)
  line L51 (38, -7) -> (23, -7)
  line L52 (23, -7) -> (23, 7)
  line L53 (60, -40) -> (60, 40)
  point P0 (30, 0)
  dimension "d84" = 2
  dimension "d85" = 15
  dimension "d86" = 23
  dimension "d87" = 23
  dimension "d90" = 22
  dimension "d91" = 30
  dimension "d92" = 30
extrude "Extrusion24" cut sketch "Esquisse12" against normal blind 6 contours L45 L46 L47 L48 | L49 L50 L51 L52
sketch "Esquisse13" plane through (0, 0, 6) normal (0, 0, -1) x (1, 0, 0)
  circle A0 centre (30, 0) radius 3.1
  line L0 (23, -7) -> (38, -7)
  line L1 (38, -7) -> (38, 7)
  line L2 (38, 7) -> (23, 7)
  line L3 (23, 7) -> (23, -7)
  line L4 (35.4725, -1.8397) -> (34.3295, 3.8195)
  line L5 (34.3295, 3.8195) -> (28.857, 5.6592)
  line L6 (28.857, 5.6592) -> (24.5275, 1.8397)
  line L7 (24.5275, 1.8397) -> (25.6705, -3.8195)
  line L8 (25.6705, -3.8195) -> (31.143, -5.6592)
  line L9 (31.143, -5.6592) -> (35.4725, -1.8397)
  point P0 (30, 0)
  dimension "d95" = 5
extrude "Extrusion25" cut sketch "Esquisse13" against normal blind 5 contours L4 L5 L6 L7 L8 L9
sketch "Esquisse14" plane through (0, 0, 6) normal (0, 0, -1) x (1, 0, 0)
  circle A0 centre (-50.4, 0) radius 3.1
  line L0 (-58, -7) -> (-43, -7)
  line L1 (-43, -7) -> (-43, 7)
  line L2 (-43, 7) -> (-58, 7)
  line L3 (-58, 7) -> (-58, -7)
  line L4 (-44.7702, -1.2801) -> (-46.4765, 4.2355)
  line L5 (-46.4765, 4.2355) -> (-52.1063, 5.5156)
  line L6 (-52.1063, 5.5156) -> (-56.0298, 1.2801)
  line L7 (-56.0298, 1.2801) -> (-54.3235, -4.2355)
  line L8 (-54.3235, -4.2355) -> (-48.6937, -5.5156)
  line L9 (-48.6937, -5.5156) -> (-44.7702, -1.2801)
  point P0 (-50.4, 0)
  dimension "d98" = 5
extrude "Extrusion26" cut sketch "Esquisse14" against normal blind 5 contours L4 L5 L6 L7 L8 L9
chamfer "Chanfrein1" distance 2 angle 45 1 edges at (60, -21.75, 30.7)
chamfer "Chanfrein2" distance 2 angle 45 1 edges at (60, 21.75, 30.7)
chamfer "Chanfrein3" distance 2 angle 45 1 edges at (-60, 21.75, 30.7)
chamfer "Chanfrein4" distance 2 angle 45 1 edges at (-60, -21.75, 30.7)
fillet "Congé1" radius 1.5 3 edges at (56.5, 30, 30.7) (0, 30, 30.7) (-56.5, 30, 30.7)
fillet "Congé2" radius 1 3 edges at (-56.5, -30, 30.7) (0, -30, 30.7) (56.5, -30, 30.7)
extrude "Extrusion22" [suppressed]
extrude "Extrusion11" [suppressed]
